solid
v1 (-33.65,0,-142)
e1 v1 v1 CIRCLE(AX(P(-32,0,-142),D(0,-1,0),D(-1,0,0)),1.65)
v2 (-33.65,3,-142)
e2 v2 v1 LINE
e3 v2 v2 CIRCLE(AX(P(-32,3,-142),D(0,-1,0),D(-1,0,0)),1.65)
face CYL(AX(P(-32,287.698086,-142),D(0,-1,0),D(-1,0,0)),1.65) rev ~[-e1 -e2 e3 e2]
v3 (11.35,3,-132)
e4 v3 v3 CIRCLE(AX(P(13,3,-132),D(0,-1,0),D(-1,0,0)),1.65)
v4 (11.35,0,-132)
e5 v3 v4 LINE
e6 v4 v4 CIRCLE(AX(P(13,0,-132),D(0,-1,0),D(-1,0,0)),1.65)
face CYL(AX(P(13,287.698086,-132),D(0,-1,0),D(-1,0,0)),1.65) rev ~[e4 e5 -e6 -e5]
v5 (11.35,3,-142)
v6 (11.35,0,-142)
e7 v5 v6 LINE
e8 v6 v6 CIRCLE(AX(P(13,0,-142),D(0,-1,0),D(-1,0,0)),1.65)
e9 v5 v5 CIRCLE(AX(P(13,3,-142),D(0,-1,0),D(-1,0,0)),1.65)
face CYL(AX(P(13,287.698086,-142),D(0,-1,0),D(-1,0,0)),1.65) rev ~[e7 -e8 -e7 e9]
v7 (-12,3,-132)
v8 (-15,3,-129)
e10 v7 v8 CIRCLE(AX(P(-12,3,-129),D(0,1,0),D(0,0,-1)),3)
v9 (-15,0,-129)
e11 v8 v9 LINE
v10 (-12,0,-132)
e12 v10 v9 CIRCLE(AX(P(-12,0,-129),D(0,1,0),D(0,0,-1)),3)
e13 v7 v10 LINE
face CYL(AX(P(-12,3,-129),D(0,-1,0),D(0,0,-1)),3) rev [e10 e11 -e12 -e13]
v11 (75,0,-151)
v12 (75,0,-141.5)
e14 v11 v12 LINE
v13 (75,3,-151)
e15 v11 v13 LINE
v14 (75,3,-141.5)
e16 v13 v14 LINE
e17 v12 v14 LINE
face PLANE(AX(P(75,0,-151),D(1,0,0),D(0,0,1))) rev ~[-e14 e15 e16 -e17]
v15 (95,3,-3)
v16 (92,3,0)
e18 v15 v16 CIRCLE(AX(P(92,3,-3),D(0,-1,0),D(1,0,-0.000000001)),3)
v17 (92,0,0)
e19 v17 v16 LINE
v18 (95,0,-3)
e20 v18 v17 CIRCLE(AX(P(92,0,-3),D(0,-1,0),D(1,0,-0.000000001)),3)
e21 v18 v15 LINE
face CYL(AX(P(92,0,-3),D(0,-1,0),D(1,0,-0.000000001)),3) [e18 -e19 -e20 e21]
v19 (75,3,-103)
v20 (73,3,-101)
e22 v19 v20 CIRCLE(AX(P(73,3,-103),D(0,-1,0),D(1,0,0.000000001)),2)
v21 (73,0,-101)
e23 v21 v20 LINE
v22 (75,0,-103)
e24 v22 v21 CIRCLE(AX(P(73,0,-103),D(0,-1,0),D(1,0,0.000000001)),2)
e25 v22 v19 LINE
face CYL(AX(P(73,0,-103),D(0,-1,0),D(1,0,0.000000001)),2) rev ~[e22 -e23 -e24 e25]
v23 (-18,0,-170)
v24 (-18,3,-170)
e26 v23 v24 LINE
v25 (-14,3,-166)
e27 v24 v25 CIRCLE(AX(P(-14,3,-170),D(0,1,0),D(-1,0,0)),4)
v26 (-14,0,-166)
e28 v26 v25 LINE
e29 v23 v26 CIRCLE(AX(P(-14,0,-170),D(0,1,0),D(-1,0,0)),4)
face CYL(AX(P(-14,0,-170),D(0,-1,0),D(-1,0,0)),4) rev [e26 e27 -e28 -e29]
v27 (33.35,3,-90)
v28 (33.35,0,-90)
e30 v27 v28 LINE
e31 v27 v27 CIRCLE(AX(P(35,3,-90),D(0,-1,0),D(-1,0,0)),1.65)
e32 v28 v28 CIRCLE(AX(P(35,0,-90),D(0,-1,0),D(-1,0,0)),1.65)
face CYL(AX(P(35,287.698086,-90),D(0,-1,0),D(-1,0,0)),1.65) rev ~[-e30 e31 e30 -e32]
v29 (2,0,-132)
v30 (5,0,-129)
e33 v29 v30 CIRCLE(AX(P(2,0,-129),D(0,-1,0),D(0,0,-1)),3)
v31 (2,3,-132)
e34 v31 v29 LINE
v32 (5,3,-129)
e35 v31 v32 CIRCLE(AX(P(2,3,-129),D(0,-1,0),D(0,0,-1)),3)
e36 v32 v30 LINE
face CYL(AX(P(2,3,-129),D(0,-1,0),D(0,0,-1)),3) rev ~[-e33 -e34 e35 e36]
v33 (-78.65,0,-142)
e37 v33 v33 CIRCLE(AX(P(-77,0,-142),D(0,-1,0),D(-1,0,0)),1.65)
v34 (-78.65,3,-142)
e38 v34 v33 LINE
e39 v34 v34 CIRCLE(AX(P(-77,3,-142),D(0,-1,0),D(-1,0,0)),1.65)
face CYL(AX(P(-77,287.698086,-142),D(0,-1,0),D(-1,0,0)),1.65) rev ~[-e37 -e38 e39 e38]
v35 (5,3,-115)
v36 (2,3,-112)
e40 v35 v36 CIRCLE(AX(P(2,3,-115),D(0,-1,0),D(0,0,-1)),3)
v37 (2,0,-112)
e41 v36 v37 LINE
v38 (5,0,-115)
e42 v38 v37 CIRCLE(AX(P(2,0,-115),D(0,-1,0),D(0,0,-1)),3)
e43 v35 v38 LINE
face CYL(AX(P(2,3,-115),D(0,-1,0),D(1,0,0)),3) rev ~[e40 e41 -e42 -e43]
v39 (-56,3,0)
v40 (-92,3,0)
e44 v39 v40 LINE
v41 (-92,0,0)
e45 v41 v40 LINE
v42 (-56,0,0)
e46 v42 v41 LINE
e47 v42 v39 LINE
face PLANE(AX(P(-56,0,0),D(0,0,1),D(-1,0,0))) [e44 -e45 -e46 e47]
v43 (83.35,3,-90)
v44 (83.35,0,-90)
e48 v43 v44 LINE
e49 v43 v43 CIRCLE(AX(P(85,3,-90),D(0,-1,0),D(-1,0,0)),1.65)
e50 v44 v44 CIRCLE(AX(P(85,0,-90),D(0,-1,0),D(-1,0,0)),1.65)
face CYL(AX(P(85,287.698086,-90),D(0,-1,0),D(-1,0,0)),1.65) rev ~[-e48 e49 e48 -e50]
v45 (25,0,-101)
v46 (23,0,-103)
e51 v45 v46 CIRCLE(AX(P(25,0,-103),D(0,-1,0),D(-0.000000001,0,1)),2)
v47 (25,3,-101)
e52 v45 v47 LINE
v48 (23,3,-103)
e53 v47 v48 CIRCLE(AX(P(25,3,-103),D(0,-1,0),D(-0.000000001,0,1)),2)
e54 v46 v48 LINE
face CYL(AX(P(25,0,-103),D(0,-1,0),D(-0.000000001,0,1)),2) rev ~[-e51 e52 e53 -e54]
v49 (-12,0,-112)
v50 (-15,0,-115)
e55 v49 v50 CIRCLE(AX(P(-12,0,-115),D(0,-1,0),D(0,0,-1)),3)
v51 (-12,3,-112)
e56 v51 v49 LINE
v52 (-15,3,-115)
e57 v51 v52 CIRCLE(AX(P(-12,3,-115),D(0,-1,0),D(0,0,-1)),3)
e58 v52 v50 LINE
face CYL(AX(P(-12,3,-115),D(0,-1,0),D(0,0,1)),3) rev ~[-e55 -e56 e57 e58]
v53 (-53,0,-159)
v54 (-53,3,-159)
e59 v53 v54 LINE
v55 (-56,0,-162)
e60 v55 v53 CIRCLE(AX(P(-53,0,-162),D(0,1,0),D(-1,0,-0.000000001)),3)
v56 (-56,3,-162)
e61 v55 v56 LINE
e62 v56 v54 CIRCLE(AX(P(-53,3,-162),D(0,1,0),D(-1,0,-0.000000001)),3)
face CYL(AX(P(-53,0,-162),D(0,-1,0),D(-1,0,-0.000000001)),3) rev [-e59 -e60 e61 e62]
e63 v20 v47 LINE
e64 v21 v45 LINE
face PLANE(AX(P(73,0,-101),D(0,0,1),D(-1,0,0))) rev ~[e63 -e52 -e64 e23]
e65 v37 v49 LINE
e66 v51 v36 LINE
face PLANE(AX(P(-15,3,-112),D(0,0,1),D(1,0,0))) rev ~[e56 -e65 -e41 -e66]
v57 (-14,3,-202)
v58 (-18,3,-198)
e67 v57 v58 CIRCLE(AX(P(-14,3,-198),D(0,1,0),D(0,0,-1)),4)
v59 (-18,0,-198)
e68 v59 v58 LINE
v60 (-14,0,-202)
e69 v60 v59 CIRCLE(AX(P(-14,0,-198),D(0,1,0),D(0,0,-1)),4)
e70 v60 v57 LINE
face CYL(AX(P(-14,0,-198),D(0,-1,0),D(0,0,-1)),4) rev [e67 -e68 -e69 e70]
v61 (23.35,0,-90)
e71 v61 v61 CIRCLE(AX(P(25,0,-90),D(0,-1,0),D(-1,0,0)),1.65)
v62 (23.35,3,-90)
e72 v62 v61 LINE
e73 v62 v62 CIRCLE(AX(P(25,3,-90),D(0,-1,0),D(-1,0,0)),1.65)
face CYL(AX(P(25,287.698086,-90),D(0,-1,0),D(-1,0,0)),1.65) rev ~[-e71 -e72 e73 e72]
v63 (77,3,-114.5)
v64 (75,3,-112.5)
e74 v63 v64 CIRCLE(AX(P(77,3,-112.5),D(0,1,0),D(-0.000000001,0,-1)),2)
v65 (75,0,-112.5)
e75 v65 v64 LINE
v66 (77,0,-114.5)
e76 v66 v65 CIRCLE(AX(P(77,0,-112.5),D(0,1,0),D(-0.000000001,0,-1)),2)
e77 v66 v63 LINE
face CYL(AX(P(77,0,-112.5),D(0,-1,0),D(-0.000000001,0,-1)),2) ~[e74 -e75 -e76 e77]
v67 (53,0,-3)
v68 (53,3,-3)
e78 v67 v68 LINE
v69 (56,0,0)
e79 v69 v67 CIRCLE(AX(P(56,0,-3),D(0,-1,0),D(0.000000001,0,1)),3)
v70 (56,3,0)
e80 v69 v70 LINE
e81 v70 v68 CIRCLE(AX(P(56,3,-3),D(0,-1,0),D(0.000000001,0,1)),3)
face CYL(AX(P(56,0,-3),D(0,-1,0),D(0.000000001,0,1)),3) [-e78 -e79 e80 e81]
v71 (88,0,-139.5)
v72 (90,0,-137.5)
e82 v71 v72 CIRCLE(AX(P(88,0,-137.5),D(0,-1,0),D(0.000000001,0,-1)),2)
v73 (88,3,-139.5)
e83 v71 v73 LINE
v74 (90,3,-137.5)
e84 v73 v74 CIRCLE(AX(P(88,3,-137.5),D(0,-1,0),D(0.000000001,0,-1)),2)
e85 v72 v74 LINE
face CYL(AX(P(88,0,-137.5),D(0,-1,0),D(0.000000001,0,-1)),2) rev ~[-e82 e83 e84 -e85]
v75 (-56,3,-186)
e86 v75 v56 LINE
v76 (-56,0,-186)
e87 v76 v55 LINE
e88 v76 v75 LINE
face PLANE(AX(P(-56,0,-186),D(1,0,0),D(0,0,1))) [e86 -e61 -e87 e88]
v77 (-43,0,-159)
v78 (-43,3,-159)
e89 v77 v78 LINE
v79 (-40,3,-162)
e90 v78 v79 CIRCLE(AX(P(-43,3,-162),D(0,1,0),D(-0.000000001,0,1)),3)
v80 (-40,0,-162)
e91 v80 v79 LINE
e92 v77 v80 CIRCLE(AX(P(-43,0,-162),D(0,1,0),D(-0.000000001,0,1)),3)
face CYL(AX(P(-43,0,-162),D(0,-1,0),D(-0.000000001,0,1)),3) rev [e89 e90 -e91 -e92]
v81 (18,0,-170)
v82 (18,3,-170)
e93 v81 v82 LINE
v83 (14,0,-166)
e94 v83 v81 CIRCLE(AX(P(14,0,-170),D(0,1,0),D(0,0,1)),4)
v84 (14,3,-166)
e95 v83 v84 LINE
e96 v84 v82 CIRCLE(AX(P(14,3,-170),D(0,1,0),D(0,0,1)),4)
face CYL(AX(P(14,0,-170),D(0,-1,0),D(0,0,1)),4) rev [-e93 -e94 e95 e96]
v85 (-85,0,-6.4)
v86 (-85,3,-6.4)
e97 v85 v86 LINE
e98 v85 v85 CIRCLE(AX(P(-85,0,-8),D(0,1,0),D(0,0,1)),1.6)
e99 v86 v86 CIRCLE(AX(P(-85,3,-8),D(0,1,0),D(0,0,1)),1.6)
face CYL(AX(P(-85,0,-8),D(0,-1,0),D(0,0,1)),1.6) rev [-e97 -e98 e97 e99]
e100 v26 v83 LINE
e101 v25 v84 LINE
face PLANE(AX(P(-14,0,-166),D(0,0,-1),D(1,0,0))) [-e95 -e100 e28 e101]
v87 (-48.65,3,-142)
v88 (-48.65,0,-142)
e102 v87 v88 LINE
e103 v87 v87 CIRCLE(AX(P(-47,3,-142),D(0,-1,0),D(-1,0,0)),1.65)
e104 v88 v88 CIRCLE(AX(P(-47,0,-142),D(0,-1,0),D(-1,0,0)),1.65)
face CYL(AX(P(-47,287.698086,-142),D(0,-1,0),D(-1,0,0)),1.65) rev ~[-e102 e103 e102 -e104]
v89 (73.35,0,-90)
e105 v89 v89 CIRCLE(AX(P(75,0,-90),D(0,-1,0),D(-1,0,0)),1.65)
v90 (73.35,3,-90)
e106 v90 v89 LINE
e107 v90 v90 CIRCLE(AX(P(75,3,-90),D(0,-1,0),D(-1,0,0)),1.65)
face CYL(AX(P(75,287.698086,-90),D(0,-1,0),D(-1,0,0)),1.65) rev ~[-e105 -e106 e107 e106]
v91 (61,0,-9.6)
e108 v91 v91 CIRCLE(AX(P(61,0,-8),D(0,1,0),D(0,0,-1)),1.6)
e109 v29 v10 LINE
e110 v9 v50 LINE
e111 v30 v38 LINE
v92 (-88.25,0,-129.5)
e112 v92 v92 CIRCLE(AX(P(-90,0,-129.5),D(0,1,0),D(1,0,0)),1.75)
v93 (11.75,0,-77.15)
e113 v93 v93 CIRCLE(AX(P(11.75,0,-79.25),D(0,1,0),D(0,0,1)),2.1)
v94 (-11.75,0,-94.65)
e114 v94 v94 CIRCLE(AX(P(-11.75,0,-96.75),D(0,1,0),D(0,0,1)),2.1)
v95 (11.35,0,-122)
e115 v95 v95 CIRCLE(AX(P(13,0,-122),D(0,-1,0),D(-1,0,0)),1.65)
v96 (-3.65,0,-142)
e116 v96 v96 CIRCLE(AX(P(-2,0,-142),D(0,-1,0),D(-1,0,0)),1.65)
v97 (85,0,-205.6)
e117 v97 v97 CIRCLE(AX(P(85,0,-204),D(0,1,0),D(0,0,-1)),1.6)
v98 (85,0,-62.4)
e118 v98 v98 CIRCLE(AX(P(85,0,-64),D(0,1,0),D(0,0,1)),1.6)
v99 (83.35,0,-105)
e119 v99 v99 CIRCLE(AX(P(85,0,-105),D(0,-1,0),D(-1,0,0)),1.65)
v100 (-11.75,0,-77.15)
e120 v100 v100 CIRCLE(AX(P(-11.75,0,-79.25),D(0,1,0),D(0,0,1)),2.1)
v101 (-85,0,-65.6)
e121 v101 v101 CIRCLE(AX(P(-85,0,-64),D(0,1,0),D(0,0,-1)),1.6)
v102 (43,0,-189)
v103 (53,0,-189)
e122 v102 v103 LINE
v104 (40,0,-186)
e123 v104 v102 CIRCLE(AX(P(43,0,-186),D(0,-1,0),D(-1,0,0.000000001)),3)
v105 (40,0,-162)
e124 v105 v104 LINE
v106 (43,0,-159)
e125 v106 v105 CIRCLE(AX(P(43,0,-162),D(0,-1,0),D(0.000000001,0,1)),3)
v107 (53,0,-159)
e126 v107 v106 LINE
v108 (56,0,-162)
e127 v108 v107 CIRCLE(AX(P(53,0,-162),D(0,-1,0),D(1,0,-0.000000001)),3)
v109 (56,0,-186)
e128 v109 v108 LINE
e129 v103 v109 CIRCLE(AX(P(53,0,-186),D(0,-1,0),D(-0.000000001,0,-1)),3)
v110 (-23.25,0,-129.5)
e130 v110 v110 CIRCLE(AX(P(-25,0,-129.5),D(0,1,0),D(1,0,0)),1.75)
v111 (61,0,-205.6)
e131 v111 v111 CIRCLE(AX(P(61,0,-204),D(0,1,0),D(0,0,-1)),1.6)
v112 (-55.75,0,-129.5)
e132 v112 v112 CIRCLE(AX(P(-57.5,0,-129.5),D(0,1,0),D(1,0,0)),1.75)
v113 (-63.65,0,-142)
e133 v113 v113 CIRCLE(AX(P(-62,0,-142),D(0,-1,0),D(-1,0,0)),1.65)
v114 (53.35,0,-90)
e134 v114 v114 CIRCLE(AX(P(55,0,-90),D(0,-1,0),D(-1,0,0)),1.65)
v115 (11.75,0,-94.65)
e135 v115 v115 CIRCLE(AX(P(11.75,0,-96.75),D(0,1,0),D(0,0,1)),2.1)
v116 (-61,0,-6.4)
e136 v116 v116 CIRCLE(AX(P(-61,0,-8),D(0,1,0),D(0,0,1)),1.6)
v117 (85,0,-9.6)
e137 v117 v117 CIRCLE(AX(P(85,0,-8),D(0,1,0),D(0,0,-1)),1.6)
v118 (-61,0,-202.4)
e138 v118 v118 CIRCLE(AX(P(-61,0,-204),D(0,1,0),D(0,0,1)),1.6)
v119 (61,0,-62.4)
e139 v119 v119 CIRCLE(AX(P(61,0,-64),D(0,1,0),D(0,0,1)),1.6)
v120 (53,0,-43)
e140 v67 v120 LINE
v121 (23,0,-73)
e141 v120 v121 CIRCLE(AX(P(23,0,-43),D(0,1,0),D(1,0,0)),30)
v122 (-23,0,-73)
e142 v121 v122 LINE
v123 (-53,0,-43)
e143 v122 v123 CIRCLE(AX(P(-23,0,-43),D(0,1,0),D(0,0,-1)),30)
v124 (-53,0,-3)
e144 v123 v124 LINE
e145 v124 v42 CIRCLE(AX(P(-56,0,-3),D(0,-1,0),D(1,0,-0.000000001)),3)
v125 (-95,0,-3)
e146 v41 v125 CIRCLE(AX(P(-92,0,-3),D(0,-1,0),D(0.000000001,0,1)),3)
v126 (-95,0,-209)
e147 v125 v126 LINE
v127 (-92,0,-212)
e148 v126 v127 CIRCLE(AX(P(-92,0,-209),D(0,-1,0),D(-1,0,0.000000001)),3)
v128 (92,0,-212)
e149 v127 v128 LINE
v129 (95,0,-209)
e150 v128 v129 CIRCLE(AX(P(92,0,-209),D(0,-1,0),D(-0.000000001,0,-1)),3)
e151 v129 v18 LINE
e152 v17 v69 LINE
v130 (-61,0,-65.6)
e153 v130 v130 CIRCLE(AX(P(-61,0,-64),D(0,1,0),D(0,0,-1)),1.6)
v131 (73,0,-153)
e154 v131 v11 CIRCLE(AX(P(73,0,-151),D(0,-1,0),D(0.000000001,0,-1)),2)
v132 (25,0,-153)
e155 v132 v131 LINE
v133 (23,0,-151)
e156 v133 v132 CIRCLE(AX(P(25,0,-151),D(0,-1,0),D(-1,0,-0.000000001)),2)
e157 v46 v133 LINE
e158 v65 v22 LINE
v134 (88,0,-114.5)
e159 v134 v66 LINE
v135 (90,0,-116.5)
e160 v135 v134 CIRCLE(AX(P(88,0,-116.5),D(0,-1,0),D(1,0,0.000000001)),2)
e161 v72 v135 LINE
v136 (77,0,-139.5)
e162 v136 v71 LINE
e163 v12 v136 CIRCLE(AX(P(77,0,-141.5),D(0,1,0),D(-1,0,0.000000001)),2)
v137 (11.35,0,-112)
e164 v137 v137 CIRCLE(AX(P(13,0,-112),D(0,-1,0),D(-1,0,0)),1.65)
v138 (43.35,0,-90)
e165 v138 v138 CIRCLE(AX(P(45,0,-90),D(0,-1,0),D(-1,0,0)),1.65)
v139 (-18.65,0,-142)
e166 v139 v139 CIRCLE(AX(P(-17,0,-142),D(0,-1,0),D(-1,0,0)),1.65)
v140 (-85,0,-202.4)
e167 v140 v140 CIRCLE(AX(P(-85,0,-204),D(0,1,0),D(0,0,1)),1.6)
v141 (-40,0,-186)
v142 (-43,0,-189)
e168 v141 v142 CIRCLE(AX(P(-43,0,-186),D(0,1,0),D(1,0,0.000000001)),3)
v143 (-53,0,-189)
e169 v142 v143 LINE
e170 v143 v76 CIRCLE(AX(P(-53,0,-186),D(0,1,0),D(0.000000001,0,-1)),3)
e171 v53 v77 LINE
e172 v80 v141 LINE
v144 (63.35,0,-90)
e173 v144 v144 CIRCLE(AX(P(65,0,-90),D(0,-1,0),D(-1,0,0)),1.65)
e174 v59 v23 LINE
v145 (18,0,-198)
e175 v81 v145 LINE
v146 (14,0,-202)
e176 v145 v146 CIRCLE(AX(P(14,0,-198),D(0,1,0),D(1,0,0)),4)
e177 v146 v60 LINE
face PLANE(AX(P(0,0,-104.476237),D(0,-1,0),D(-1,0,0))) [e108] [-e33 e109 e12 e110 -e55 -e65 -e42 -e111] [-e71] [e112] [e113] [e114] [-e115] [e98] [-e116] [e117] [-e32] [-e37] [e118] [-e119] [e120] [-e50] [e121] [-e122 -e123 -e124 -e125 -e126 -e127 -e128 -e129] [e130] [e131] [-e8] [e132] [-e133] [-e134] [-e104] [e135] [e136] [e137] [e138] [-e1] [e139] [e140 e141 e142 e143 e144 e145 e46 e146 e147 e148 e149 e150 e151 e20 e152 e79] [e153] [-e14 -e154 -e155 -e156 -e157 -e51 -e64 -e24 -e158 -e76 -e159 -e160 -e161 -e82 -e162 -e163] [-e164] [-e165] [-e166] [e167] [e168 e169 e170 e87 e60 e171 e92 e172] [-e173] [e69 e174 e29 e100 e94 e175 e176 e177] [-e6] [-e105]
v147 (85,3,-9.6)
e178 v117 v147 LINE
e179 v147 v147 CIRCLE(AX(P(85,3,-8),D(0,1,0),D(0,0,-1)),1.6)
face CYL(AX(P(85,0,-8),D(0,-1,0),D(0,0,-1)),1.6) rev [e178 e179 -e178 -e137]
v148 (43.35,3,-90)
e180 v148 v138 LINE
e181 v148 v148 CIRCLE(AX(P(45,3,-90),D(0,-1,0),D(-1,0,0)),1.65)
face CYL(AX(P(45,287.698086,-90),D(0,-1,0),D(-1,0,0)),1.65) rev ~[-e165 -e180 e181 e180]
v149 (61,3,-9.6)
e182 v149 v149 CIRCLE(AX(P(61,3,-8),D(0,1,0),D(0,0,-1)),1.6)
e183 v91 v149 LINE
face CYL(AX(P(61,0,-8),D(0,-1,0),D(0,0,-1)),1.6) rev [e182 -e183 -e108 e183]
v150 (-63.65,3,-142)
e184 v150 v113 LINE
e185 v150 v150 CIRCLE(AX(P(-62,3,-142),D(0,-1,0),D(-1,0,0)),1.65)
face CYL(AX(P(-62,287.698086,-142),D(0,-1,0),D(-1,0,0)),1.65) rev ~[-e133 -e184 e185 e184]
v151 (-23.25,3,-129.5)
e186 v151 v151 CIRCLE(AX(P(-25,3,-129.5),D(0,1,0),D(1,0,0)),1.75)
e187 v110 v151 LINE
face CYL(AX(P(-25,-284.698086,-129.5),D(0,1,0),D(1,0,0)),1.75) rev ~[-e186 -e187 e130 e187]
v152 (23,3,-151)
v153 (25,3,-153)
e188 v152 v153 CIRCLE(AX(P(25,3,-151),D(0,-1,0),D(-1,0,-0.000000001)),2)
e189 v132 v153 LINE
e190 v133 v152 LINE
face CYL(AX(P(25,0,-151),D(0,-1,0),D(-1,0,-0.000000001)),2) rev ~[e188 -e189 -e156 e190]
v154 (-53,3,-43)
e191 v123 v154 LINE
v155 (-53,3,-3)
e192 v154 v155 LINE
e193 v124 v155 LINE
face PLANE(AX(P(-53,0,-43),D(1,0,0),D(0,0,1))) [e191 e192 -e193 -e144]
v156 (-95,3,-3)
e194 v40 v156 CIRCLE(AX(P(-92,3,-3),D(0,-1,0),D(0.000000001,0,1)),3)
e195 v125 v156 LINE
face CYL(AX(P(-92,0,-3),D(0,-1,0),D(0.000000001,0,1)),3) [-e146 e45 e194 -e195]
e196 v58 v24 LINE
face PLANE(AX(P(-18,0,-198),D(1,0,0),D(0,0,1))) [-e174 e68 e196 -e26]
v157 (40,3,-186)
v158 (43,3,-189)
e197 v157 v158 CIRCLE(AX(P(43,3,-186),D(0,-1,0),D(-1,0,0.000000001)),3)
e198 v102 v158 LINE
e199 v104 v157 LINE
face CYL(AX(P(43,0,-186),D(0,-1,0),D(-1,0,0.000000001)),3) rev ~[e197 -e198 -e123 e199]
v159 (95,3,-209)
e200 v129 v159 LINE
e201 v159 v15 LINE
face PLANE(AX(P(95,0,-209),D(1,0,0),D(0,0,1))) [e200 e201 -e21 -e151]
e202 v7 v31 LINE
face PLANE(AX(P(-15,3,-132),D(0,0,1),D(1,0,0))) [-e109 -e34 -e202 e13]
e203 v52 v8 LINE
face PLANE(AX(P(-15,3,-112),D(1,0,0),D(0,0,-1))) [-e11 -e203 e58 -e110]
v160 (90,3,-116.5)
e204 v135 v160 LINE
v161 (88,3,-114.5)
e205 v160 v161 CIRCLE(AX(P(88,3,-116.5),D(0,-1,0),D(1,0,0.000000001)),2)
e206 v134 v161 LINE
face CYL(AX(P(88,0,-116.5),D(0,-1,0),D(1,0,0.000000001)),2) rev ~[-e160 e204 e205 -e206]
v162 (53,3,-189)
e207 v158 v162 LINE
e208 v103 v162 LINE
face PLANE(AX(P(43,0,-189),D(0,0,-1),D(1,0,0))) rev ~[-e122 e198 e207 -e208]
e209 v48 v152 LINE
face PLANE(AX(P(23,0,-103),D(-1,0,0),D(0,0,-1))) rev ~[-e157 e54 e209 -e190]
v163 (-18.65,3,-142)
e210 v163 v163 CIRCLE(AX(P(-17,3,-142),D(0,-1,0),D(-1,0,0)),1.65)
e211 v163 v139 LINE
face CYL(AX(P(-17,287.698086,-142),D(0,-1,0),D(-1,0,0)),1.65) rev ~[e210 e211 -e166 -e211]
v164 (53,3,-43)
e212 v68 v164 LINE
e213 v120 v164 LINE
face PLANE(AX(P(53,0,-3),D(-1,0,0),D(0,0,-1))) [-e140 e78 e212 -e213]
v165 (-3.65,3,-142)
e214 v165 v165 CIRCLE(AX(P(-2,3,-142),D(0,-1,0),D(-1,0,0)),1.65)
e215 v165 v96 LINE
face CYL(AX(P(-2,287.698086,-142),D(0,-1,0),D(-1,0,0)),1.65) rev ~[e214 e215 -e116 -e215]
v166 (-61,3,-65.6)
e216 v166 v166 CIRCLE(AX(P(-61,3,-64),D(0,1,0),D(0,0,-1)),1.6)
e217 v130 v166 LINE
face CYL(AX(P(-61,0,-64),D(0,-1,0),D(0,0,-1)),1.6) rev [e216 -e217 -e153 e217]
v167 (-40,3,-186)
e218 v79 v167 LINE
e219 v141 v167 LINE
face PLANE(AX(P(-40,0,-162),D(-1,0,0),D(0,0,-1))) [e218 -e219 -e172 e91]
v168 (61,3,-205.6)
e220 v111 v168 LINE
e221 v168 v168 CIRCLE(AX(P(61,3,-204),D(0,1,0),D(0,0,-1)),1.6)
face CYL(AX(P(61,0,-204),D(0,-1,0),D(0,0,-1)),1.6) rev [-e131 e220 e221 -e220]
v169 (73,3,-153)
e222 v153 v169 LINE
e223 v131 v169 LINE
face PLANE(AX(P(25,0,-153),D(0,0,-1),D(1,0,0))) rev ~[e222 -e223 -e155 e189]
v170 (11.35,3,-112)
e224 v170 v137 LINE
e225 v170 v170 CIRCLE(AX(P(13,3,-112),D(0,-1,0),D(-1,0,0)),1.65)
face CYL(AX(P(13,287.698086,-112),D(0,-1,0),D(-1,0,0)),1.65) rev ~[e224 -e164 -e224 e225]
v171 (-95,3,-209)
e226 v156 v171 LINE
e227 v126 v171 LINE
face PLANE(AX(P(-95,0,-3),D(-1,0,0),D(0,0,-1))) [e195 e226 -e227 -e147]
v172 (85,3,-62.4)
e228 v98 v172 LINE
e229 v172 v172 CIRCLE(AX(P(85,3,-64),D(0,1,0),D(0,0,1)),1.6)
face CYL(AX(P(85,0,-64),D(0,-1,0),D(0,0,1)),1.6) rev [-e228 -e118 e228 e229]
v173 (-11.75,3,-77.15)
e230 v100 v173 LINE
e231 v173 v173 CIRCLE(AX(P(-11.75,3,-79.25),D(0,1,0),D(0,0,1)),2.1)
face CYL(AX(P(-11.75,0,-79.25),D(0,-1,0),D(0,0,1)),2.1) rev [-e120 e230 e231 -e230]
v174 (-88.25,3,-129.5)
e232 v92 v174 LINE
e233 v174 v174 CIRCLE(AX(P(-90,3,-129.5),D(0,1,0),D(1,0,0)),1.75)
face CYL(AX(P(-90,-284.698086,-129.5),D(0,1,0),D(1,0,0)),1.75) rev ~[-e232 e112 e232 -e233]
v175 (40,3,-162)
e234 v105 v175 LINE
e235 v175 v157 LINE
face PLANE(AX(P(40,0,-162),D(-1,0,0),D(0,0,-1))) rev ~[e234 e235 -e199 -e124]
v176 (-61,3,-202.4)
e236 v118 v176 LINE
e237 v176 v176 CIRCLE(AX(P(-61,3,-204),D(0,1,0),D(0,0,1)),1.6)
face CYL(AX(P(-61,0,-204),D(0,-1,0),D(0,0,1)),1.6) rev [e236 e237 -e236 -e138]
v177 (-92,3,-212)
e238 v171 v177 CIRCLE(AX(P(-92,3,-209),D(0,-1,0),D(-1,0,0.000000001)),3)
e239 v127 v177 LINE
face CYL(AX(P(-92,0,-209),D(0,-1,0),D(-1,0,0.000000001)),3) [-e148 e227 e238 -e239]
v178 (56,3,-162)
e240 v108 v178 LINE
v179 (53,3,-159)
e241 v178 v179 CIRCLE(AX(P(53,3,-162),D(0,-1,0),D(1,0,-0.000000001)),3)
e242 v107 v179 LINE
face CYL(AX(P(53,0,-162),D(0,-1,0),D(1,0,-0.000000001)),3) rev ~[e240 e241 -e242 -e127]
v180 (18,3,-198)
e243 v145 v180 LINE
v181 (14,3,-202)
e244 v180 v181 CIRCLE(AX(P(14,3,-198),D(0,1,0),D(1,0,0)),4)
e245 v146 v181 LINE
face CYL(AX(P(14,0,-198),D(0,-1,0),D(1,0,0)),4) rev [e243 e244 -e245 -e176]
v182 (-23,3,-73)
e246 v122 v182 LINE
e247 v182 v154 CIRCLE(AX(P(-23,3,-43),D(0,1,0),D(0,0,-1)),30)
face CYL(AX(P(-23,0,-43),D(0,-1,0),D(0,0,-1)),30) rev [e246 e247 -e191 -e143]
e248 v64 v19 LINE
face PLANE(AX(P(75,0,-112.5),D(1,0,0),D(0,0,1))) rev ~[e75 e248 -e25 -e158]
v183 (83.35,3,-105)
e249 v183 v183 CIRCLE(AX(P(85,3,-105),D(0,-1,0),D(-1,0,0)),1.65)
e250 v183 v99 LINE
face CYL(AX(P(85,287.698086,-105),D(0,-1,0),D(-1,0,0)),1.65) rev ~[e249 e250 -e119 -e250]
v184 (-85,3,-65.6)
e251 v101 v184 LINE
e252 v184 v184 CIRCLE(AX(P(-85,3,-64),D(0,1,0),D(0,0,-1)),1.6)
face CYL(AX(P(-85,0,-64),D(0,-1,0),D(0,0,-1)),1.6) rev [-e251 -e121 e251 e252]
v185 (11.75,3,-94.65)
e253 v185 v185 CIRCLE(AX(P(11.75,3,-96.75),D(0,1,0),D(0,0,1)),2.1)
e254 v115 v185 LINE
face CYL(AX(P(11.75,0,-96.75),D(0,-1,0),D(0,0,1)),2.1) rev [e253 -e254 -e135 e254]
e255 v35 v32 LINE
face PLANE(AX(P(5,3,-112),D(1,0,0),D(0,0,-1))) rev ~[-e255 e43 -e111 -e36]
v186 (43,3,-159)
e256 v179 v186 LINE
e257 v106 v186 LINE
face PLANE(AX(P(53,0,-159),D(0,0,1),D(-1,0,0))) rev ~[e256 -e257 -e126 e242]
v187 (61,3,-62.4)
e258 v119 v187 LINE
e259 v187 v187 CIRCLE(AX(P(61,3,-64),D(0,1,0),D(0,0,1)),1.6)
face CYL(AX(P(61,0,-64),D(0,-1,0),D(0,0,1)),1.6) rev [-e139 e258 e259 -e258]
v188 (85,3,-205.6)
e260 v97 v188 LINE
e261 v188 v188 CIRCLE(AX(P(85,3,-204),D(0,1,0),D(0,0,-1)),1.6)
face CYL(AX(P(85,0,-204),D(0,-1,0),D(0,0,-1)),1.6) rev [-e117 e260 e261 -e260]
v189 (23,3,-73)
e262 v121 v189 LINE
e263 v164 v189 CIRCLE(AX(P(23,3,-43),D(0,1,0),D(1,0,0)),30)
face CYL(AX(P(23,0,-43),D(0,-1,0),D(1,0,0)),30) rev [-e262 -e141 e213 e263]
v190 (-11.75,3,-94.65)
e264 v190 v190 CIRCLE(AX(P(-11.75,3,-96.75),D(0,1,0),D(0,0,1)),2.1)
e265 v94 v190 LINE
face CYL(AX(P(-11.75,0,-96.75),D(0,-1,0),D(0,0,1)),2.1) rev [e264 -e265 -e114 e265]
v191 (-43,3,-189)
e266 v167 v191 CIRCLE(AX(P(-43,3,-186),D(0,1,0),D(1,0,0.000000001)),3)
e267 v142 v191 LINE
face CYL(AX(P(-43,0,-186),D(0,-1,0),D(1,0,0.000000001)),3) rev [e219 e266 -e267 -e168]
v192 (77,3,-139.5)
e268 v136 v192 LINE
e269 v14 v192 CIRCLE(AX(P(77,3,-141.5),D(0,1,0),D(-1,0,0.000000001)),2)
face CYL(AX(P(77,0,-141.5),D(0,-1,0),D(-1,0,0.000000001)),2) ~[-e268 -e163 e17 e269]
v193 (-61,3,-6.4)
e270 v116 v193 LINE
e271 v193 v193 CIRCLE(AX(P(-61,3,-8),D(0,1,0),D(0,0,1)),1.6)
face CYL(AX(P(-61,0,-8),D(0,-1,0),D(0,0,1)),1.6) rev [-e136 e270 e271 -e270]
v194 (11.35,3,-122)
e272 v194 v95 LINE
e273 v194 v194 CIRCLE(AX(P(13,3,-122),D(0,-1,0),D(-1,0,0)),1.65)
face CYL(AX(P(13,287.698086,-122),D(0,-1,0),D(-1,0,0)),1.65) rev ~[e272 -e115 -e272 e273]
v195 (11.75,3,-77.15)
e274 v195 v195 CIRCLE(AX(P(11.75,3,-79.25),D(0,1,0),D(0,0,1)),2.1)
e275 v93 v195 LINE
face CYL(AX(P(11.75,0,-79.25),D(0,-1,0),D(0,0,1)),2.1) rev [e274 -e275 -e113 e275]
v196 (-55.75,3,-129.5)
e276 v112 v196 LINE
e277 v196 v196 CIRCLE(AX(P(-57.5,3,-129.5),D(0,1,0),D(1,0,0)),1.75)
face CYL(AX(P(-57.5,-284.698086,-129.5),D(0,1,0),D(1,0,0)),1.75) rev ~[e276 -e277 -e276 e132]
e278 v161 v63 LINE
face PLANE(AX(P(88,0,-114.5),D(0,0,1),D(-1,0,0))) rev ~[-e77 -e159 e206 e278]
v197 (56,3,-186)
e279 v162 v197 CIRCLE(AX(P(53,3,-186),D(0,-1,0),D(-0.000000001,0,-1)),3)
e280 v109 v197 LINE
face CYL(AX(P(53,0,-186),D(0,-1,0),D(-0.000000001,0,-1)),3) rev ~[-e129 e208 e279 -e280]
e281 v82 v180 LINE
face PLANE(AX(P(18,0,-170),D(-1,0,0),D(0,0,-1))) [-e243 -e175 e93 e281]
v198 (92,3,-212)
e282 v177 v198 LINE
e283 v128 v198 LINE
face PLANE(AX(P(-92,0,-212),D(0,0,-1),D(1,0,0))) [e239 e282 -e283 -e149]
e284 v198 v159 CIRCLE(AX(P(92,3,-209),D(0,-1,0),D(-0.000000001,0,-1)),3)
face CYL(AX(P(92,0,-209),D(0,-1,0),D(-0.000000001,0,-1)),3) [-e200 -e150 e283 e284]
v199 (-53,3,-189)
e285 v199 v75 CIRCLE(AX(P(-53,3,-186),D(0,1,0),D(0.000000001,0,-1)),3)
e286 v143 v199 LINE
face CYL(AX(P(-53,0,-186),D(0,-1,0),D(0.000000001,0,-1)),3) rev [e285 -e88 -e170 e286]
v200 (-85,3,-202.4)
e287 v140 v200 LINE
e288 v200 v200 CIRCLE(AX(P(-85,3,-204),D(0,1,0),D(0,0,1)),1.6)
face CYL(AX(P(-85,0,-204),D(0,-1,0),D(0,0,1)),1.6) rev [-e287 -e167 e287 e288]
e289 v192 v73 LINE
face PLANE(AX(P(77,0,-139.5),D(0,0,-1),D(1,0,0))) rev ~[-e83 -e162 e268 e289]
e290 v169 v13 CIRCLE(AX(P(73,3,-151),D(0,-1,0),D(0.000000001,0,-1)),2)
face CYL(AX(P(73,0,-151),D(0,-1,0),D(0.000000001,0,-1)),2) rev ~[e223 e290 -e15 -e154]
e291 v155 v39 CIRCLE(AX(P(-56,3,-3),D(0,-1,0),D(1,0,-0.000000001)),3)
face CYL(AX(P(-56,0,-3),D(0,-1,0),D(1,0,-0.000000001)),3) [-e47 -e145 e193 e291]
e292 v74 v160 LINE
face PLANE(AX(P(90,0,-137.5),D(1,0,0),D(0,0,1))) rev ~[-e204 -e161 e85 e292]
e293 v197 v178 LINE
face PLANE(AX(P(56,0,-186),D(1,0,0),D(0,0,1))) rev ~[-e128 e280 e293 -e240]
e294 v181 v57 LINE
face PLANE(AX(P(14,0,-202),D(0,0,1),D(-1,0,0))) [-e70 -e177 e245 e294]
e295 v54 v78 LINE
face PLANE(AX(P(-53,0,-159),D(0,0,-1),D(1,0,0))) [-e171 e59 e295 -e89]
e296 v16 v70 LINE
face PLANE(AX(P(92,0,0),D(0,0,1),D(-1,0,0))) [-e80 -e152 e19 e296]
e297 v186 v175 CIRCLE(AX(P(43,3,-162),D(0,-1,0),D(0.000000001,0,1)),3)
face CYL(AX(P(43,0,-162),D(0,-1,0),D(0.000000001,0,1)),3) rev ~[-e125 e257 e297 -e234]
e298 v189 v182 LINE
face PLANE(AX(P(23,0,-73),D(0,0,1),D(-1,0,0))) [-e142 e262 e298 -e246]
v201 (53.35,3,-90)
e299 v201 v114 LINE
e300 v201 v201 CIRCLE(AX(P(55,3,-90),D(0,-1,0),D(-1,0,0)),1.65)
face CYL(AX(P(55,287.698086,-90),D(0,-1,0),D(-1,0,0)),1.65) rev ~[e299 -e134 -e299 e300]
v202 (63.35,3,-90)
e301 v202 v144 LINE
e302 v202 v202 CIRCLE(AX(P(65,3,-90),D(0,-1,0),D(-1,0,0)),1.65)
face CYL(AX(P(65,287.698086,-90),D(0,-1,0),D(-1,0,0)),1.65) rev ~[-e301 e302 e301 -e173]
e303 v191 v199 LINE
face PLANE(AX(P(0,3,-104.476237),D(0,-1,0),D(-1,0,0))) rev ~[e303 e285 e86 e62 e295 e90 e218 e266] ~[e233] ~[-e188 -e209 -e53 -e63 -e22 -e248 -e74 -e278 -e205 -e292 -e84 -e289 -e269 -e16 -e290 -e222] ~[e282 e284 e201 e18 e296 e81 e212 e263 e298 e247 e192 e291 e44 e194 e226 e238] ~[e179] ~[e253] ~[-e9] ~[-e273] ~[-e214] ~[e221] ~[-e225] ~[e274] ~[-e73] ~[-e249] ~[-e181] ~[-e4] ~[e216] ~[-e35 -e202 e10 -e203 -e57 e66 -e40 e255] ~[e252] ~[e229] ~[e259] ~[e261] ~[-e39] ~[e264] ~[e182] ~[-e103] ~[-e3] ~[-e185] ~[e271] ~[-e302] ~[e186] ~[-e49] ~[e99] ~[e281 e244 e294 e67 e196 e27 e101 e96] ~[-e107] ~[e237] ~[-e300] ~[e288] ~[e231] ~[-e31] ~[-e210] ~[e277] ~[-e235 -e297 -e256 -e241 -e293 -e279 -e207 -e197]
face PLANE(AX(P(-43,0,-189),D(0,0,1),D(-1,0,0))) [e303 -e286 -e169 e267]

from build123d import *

# Parameters (mm, degrees)
SKETCH_1_R             = 2.1
SKETCH_1_R_2           = 1.6
EXTRUDE_1_DEPTH        = 3
HOLE_WIZARD_1_D        = 3.5
HOLE_WIZARD_2_D        = 3.3
PATTERN_LINEAR_1_COUNT = 7
PATTERN_LINEAR_1_PITCH = 15
PATTERN_LINEAR_2_COUNT = 4
PATTERN_LINEAR_2_PITCH = 10
HOLE_WIZARD_3_D        = 3.3
PATTERN_LINEAR_3_COUNT = 7
PATTERN_LINEAR_3_PITCH = 10
HOLE_WIZARD_4_D        = 3.3
SKETCH_14_W            = 20
SKETCH_14_H            = 20
CUT_EXTRUDE_1_DEPTH    = 10
FILLET_1_R             = 3


with BuildPart() as part:
    # 草图1 → 凸台-拉伸1 (new body)
    with BuildSketch(Plane(origin=(0, 0, 0), x_dir=(1, 0, 0), z_dir=(0, 1, 0))):
        with BuildLine():
            Line((-95, 3), (-95, 209))
            ThreePointArc((-95, 209), (-94.121320344, 211.121320344), (-92, 212))
            Line((-92, 212), (92, 212))
            ThreePointArc((92, 212), (94.121320344, 211.121320344), (95, 209))
            Line((95, 209), (95, 3))
            ThreePointArc((95, 3), (94.121320344, 0.878679656), (92, 0))
            Line((92, 0), (56, 0))
            ThreePointArc((56, 0), (53.878679656, 0.878679656), (53, 3))
            Line((53, 3), (53, 43))
            ThreePointArc((53, 43), (44.213203436, 64.213203436), (23, 73))
            Line((23, 73), (-23, 73))
            ThreePointArc((-23, 73), (-44.213203436, 64.213203436), (-53, 43))
            Line((-53, 43), (-53, 3))
            ThreePointArc((-53, 3), (-53.878679656, 0.878679656), (-56, 0))
            Line((-56, 0), (-92, 0))
            ThreePointArc((-92, 0), (-94.121320344, 0.878679656), (-95, 3))
        make_face()
        with Locations(Location((-11.75, 96.75, 0), (0, 0, 270))):
            Circle(SKETCH_1_R, mode=Mode.SUBTRACT)
        with Locations(Location((11.75, 96.75, 0), (0, 0, 270))):
            Circle(SKETCH_1_R, mode=Mode.SUBTRACT)
        with Locations(Location((11.75, 79.25, 0), (0, 0, 270))):
            Circle(SKETCH_1_R, mode=Mode.SUBTRACT)
        with Locations(Location((-11.75, 79.25, 0), (0, 0, 270))):
            Circle(SKETCH_1_R, mode=Mode.SUBTRACT)
        with Locations(Location((-85, 204, 0), (0, 0, 270))):
            Circle(SKETCH_1_R_2, mode=Mode.SUBTRACT)
        with Locations(Location((-61, 204, 0), (0, 0, 270))):
            Circle(SKETCH_1_R_2, mode=Mode.SUBTRACT)
        with Locations(Location((-61, 8, 0), (0, 0, 270))):
            Circle(SKETCH_1_R_2, mode=Mode.SUBTRACT)
        with Locations(Location((-85, 8, 0), (0, 0, 270))):
            Circle(SKETCH_1_R_2, mode=Mode.SUBTRACT)
        with Locations(Location((85, 8, 0), (0, 0, 90))):
            Circle(SKETCH_1_R_2, mode=Mode.SUBTRACT)
        with Locations(Location((61, 8, 0), (0, 0, 90))):
            Circle(SKETCH_1_R_2, mode=Mode.SUBTRACT)
        with Locations(Location((61, 204, 0), (0, 0, 90))):
            Circle(SKETCH_1_R_2, mode=Mode.SUBTRACT)
        with Locations(Location((85, 204, 0), (0, 0, 90))):
            Circle(SKETCH_1_R_2, mode=Mode.SUBTRACT)
        with Locations(Location((85, 64, 0), (0, 0, 270))):
            Circle(SKETCH_1_R_2, mode=Mode.SUBTRACT)
        with Locations(Location((61, 64, 0), (0, 0, 270))):
            Circle(SKETCH_1_R_2, mode=Mode.SUBTRACT)
        with Locations(Location((-85, 64, 0), (0, 0, 90))):
            Circle(SKETCH_1_R_2, mode=Mode.SUBTRACT)
        with Locations(Location((-61, 64, 0), (0, 0, 90))):
            Circle(SKETCH_1_R_2, mode=Mode.SUBTRACT)
        with BuildLine():
            Line((-56, 186), (-56, 162))
            ThreePointArc((-56, 162), (-55.121320344, 159.878679656), (-53, 159))
            Line((-53, 159), (-43, 159))
            ThreePointArc((-43, 159), (-40.878679656, 159.878679656), (-40, 162))
            Line((-40, 162), (-40, 186))
            ThreePointArc((-40, 186), (-40.878679656, 188.121320344), (-43, 189))
            Line((-43, 189), (-53, 189))
            ThreePointArc((-53, 189), (-55.121320344, 188.121320344), (-56, 186))
        make_face(mode=Mode.SUBTRACT)
        with BuildLine():
            Line((43, 189), (53, 189))
            ThreePointArc((53, 189), (55.121320344, 188.121320344), (56, 186))
            Line((56, 186), (56, 162))
            ThreePointArc((56, 162), (55.121320344, 159.878679656), (53, 159))
            Line((53, 159), (43, 159))
            ThreePointArc((43, 159), (40.878679656, 159.878679656), (40, 162))
            Line((40, 162), (40, 186))
            ThreePointArc((40, 186), (40.878679656, 188.121320344), (43, 189))
        make_face(mode=Mode.SUBTRACT)
        with BuildLine():
            Line((77, 139.5), (88, 139.5))
            ThreePointArc((88, 139.5), (89.414213562, 138.914213562), (90, 137.5))
            Line((90, 137.5), (90, 116.5))
            ThreePointArc((90, 116.5), (89.414213562, 115.085786438), (88, 114.5))
            Line((88, 114.5), (77, 114.5))
            ThreePointArc((77, 114.5), (75.585786438, 113.914213562), (75, 112.5))
            Line((75, 112.5), (75, 103))
            ThreePointArc((75, 103), (74.414213562, 101.585786438), (73, 101))
            Line((73, 101), (25, 101))
            ThreePointArc((25, 101), (23.585786438, 101.585786438), (23, 103))
            Line((23, 103), (23, 151))
            ThreePointArc((23, 151), (23.585786438, 152.414213562), (25, 153))
            Line((25, 153), (73, 153))
            ThreePointArc((73, 153), (74.414213562, 152.414213562), (75, 151))
            Line((75, 151), (75, 141.5))
            ThreePointArc((75, 141.5), (75.585786438, 140.085786438), (77, 139.5))
        make_face(mode=Mode.SUBTRACT)
        with BuildLine():
            Line((-14, 166), (14, 166))
            ThreePointArc((14, 166), (16.828427125, 167.171572875), (18, 170))
            Line((18, 170), (18, 198))
            ThreePointArc((18, 198), (16.828427125, 200.828427125), (14, 202))
            Line((14, 202), (-14, 202))
            ThreePointArc((-14, 202), (-16.828427125, 200.828427125), (-18, 198))
            Line((-18, 198), (-18, 170))
            ThreePointArc((-18, 170), (-16.828427125, 167.171572875), (-14, 166))
        make_face(mode=Mode.SUBTRACT)
    extrude(amount=EXTRUDE_1_DEPTH)

    # 孔1 (through all)
    with Locations(Plane(origin=(0, 0, 0), x_dir=(-1, 0, 0), z_dir=(0, -1, 0))):
        with Locations((90, 129.5), (57.5, 129.5), (25, 129.5)):
            Hole(HOLE_WIZARD_1_D / 2)

    # 孔2 (through all)
    with Locations(Plane(origin=(0, 3, 0), x_dir=(1, 0, 0), z_dir=(0, 1, 0))):
        with Locations((13, 142)):
            hole_wizard_2 = Hole(HOLE_WIZARD_2_D / 2)

    # 阵列(线性)1: 孔2 ×7
    with Locations(*[(-i * PATTERN_LINEAR_1_PITCH, 0, 0) for i in range(1, PATTERN_LINEAR_1_COUNT)]):
        add(hole_wizard_2, mode=Mode.SUBTRACT)

    # 阵列(线性)2: 孔2 ×4
    with Locations(*[(0, 0, i * PATTERN_LINEAR_2_PITCH) for i in range(1, PATTERN_LINEAR_2_COUNT)]):
        add(hole_wizard_2, mode=Mode.SUBTRACT)

    # 孔3 (through all)
    with Locations(Plane(origin=(0, 3, 0), x_dir=(1, 0, 0), z_dir=(0, 1, 0))):
        with Locations((25, 90)):
            hole_wizard_3 = Hole(HOLE_WIZARD_3_D / 2)

    # 阵列(线性)3: 孔3 ×7
    with Locations(*[(i * PATTERN_LINEAR_3_PITCH, 0, 0) for i in range(1, PATTERN_LINEAR_3_COUNT)]):
        add(hole_wizard_3, mode=Mode.SUBTRACT)

    # 孔4 (through all)
    with Locations(Plane(origin=(0, 3, 0), x_dir=(1, 0, 0), z_dir=(0, 1, 0))):
        with Locations((85, 105)):
            Hole(HOLE_WIZARD_4_D / 2)

    # 草图14 → 切除-拉伸1 (cut)
    with BuildSketch(Plane(origin=(0, 3, 0), x_dir=(1, 0, 0), z_dir=(0, 1, 0))):
        with Locations((-5, 122)):
            Rectangle(SKETCH_14_W, SKETCH_14_H)
    extrude(amount=-CUT_EXTRUDE_1_DEPTH, mode=Mode.SUBTRACT)

    # 圆角1
    fillet_1_edges = [part.edges().sort_by_distance(p)[0] for p in [
        (-15, 1.5, -112),
        (-15, 1.5, -132),
        (5, 1.5, -132),
        (5, 1.5, -112),
    ]]
    fillet(fillet_1_edges, radius=FILLET_1_R)


solid = part.part
